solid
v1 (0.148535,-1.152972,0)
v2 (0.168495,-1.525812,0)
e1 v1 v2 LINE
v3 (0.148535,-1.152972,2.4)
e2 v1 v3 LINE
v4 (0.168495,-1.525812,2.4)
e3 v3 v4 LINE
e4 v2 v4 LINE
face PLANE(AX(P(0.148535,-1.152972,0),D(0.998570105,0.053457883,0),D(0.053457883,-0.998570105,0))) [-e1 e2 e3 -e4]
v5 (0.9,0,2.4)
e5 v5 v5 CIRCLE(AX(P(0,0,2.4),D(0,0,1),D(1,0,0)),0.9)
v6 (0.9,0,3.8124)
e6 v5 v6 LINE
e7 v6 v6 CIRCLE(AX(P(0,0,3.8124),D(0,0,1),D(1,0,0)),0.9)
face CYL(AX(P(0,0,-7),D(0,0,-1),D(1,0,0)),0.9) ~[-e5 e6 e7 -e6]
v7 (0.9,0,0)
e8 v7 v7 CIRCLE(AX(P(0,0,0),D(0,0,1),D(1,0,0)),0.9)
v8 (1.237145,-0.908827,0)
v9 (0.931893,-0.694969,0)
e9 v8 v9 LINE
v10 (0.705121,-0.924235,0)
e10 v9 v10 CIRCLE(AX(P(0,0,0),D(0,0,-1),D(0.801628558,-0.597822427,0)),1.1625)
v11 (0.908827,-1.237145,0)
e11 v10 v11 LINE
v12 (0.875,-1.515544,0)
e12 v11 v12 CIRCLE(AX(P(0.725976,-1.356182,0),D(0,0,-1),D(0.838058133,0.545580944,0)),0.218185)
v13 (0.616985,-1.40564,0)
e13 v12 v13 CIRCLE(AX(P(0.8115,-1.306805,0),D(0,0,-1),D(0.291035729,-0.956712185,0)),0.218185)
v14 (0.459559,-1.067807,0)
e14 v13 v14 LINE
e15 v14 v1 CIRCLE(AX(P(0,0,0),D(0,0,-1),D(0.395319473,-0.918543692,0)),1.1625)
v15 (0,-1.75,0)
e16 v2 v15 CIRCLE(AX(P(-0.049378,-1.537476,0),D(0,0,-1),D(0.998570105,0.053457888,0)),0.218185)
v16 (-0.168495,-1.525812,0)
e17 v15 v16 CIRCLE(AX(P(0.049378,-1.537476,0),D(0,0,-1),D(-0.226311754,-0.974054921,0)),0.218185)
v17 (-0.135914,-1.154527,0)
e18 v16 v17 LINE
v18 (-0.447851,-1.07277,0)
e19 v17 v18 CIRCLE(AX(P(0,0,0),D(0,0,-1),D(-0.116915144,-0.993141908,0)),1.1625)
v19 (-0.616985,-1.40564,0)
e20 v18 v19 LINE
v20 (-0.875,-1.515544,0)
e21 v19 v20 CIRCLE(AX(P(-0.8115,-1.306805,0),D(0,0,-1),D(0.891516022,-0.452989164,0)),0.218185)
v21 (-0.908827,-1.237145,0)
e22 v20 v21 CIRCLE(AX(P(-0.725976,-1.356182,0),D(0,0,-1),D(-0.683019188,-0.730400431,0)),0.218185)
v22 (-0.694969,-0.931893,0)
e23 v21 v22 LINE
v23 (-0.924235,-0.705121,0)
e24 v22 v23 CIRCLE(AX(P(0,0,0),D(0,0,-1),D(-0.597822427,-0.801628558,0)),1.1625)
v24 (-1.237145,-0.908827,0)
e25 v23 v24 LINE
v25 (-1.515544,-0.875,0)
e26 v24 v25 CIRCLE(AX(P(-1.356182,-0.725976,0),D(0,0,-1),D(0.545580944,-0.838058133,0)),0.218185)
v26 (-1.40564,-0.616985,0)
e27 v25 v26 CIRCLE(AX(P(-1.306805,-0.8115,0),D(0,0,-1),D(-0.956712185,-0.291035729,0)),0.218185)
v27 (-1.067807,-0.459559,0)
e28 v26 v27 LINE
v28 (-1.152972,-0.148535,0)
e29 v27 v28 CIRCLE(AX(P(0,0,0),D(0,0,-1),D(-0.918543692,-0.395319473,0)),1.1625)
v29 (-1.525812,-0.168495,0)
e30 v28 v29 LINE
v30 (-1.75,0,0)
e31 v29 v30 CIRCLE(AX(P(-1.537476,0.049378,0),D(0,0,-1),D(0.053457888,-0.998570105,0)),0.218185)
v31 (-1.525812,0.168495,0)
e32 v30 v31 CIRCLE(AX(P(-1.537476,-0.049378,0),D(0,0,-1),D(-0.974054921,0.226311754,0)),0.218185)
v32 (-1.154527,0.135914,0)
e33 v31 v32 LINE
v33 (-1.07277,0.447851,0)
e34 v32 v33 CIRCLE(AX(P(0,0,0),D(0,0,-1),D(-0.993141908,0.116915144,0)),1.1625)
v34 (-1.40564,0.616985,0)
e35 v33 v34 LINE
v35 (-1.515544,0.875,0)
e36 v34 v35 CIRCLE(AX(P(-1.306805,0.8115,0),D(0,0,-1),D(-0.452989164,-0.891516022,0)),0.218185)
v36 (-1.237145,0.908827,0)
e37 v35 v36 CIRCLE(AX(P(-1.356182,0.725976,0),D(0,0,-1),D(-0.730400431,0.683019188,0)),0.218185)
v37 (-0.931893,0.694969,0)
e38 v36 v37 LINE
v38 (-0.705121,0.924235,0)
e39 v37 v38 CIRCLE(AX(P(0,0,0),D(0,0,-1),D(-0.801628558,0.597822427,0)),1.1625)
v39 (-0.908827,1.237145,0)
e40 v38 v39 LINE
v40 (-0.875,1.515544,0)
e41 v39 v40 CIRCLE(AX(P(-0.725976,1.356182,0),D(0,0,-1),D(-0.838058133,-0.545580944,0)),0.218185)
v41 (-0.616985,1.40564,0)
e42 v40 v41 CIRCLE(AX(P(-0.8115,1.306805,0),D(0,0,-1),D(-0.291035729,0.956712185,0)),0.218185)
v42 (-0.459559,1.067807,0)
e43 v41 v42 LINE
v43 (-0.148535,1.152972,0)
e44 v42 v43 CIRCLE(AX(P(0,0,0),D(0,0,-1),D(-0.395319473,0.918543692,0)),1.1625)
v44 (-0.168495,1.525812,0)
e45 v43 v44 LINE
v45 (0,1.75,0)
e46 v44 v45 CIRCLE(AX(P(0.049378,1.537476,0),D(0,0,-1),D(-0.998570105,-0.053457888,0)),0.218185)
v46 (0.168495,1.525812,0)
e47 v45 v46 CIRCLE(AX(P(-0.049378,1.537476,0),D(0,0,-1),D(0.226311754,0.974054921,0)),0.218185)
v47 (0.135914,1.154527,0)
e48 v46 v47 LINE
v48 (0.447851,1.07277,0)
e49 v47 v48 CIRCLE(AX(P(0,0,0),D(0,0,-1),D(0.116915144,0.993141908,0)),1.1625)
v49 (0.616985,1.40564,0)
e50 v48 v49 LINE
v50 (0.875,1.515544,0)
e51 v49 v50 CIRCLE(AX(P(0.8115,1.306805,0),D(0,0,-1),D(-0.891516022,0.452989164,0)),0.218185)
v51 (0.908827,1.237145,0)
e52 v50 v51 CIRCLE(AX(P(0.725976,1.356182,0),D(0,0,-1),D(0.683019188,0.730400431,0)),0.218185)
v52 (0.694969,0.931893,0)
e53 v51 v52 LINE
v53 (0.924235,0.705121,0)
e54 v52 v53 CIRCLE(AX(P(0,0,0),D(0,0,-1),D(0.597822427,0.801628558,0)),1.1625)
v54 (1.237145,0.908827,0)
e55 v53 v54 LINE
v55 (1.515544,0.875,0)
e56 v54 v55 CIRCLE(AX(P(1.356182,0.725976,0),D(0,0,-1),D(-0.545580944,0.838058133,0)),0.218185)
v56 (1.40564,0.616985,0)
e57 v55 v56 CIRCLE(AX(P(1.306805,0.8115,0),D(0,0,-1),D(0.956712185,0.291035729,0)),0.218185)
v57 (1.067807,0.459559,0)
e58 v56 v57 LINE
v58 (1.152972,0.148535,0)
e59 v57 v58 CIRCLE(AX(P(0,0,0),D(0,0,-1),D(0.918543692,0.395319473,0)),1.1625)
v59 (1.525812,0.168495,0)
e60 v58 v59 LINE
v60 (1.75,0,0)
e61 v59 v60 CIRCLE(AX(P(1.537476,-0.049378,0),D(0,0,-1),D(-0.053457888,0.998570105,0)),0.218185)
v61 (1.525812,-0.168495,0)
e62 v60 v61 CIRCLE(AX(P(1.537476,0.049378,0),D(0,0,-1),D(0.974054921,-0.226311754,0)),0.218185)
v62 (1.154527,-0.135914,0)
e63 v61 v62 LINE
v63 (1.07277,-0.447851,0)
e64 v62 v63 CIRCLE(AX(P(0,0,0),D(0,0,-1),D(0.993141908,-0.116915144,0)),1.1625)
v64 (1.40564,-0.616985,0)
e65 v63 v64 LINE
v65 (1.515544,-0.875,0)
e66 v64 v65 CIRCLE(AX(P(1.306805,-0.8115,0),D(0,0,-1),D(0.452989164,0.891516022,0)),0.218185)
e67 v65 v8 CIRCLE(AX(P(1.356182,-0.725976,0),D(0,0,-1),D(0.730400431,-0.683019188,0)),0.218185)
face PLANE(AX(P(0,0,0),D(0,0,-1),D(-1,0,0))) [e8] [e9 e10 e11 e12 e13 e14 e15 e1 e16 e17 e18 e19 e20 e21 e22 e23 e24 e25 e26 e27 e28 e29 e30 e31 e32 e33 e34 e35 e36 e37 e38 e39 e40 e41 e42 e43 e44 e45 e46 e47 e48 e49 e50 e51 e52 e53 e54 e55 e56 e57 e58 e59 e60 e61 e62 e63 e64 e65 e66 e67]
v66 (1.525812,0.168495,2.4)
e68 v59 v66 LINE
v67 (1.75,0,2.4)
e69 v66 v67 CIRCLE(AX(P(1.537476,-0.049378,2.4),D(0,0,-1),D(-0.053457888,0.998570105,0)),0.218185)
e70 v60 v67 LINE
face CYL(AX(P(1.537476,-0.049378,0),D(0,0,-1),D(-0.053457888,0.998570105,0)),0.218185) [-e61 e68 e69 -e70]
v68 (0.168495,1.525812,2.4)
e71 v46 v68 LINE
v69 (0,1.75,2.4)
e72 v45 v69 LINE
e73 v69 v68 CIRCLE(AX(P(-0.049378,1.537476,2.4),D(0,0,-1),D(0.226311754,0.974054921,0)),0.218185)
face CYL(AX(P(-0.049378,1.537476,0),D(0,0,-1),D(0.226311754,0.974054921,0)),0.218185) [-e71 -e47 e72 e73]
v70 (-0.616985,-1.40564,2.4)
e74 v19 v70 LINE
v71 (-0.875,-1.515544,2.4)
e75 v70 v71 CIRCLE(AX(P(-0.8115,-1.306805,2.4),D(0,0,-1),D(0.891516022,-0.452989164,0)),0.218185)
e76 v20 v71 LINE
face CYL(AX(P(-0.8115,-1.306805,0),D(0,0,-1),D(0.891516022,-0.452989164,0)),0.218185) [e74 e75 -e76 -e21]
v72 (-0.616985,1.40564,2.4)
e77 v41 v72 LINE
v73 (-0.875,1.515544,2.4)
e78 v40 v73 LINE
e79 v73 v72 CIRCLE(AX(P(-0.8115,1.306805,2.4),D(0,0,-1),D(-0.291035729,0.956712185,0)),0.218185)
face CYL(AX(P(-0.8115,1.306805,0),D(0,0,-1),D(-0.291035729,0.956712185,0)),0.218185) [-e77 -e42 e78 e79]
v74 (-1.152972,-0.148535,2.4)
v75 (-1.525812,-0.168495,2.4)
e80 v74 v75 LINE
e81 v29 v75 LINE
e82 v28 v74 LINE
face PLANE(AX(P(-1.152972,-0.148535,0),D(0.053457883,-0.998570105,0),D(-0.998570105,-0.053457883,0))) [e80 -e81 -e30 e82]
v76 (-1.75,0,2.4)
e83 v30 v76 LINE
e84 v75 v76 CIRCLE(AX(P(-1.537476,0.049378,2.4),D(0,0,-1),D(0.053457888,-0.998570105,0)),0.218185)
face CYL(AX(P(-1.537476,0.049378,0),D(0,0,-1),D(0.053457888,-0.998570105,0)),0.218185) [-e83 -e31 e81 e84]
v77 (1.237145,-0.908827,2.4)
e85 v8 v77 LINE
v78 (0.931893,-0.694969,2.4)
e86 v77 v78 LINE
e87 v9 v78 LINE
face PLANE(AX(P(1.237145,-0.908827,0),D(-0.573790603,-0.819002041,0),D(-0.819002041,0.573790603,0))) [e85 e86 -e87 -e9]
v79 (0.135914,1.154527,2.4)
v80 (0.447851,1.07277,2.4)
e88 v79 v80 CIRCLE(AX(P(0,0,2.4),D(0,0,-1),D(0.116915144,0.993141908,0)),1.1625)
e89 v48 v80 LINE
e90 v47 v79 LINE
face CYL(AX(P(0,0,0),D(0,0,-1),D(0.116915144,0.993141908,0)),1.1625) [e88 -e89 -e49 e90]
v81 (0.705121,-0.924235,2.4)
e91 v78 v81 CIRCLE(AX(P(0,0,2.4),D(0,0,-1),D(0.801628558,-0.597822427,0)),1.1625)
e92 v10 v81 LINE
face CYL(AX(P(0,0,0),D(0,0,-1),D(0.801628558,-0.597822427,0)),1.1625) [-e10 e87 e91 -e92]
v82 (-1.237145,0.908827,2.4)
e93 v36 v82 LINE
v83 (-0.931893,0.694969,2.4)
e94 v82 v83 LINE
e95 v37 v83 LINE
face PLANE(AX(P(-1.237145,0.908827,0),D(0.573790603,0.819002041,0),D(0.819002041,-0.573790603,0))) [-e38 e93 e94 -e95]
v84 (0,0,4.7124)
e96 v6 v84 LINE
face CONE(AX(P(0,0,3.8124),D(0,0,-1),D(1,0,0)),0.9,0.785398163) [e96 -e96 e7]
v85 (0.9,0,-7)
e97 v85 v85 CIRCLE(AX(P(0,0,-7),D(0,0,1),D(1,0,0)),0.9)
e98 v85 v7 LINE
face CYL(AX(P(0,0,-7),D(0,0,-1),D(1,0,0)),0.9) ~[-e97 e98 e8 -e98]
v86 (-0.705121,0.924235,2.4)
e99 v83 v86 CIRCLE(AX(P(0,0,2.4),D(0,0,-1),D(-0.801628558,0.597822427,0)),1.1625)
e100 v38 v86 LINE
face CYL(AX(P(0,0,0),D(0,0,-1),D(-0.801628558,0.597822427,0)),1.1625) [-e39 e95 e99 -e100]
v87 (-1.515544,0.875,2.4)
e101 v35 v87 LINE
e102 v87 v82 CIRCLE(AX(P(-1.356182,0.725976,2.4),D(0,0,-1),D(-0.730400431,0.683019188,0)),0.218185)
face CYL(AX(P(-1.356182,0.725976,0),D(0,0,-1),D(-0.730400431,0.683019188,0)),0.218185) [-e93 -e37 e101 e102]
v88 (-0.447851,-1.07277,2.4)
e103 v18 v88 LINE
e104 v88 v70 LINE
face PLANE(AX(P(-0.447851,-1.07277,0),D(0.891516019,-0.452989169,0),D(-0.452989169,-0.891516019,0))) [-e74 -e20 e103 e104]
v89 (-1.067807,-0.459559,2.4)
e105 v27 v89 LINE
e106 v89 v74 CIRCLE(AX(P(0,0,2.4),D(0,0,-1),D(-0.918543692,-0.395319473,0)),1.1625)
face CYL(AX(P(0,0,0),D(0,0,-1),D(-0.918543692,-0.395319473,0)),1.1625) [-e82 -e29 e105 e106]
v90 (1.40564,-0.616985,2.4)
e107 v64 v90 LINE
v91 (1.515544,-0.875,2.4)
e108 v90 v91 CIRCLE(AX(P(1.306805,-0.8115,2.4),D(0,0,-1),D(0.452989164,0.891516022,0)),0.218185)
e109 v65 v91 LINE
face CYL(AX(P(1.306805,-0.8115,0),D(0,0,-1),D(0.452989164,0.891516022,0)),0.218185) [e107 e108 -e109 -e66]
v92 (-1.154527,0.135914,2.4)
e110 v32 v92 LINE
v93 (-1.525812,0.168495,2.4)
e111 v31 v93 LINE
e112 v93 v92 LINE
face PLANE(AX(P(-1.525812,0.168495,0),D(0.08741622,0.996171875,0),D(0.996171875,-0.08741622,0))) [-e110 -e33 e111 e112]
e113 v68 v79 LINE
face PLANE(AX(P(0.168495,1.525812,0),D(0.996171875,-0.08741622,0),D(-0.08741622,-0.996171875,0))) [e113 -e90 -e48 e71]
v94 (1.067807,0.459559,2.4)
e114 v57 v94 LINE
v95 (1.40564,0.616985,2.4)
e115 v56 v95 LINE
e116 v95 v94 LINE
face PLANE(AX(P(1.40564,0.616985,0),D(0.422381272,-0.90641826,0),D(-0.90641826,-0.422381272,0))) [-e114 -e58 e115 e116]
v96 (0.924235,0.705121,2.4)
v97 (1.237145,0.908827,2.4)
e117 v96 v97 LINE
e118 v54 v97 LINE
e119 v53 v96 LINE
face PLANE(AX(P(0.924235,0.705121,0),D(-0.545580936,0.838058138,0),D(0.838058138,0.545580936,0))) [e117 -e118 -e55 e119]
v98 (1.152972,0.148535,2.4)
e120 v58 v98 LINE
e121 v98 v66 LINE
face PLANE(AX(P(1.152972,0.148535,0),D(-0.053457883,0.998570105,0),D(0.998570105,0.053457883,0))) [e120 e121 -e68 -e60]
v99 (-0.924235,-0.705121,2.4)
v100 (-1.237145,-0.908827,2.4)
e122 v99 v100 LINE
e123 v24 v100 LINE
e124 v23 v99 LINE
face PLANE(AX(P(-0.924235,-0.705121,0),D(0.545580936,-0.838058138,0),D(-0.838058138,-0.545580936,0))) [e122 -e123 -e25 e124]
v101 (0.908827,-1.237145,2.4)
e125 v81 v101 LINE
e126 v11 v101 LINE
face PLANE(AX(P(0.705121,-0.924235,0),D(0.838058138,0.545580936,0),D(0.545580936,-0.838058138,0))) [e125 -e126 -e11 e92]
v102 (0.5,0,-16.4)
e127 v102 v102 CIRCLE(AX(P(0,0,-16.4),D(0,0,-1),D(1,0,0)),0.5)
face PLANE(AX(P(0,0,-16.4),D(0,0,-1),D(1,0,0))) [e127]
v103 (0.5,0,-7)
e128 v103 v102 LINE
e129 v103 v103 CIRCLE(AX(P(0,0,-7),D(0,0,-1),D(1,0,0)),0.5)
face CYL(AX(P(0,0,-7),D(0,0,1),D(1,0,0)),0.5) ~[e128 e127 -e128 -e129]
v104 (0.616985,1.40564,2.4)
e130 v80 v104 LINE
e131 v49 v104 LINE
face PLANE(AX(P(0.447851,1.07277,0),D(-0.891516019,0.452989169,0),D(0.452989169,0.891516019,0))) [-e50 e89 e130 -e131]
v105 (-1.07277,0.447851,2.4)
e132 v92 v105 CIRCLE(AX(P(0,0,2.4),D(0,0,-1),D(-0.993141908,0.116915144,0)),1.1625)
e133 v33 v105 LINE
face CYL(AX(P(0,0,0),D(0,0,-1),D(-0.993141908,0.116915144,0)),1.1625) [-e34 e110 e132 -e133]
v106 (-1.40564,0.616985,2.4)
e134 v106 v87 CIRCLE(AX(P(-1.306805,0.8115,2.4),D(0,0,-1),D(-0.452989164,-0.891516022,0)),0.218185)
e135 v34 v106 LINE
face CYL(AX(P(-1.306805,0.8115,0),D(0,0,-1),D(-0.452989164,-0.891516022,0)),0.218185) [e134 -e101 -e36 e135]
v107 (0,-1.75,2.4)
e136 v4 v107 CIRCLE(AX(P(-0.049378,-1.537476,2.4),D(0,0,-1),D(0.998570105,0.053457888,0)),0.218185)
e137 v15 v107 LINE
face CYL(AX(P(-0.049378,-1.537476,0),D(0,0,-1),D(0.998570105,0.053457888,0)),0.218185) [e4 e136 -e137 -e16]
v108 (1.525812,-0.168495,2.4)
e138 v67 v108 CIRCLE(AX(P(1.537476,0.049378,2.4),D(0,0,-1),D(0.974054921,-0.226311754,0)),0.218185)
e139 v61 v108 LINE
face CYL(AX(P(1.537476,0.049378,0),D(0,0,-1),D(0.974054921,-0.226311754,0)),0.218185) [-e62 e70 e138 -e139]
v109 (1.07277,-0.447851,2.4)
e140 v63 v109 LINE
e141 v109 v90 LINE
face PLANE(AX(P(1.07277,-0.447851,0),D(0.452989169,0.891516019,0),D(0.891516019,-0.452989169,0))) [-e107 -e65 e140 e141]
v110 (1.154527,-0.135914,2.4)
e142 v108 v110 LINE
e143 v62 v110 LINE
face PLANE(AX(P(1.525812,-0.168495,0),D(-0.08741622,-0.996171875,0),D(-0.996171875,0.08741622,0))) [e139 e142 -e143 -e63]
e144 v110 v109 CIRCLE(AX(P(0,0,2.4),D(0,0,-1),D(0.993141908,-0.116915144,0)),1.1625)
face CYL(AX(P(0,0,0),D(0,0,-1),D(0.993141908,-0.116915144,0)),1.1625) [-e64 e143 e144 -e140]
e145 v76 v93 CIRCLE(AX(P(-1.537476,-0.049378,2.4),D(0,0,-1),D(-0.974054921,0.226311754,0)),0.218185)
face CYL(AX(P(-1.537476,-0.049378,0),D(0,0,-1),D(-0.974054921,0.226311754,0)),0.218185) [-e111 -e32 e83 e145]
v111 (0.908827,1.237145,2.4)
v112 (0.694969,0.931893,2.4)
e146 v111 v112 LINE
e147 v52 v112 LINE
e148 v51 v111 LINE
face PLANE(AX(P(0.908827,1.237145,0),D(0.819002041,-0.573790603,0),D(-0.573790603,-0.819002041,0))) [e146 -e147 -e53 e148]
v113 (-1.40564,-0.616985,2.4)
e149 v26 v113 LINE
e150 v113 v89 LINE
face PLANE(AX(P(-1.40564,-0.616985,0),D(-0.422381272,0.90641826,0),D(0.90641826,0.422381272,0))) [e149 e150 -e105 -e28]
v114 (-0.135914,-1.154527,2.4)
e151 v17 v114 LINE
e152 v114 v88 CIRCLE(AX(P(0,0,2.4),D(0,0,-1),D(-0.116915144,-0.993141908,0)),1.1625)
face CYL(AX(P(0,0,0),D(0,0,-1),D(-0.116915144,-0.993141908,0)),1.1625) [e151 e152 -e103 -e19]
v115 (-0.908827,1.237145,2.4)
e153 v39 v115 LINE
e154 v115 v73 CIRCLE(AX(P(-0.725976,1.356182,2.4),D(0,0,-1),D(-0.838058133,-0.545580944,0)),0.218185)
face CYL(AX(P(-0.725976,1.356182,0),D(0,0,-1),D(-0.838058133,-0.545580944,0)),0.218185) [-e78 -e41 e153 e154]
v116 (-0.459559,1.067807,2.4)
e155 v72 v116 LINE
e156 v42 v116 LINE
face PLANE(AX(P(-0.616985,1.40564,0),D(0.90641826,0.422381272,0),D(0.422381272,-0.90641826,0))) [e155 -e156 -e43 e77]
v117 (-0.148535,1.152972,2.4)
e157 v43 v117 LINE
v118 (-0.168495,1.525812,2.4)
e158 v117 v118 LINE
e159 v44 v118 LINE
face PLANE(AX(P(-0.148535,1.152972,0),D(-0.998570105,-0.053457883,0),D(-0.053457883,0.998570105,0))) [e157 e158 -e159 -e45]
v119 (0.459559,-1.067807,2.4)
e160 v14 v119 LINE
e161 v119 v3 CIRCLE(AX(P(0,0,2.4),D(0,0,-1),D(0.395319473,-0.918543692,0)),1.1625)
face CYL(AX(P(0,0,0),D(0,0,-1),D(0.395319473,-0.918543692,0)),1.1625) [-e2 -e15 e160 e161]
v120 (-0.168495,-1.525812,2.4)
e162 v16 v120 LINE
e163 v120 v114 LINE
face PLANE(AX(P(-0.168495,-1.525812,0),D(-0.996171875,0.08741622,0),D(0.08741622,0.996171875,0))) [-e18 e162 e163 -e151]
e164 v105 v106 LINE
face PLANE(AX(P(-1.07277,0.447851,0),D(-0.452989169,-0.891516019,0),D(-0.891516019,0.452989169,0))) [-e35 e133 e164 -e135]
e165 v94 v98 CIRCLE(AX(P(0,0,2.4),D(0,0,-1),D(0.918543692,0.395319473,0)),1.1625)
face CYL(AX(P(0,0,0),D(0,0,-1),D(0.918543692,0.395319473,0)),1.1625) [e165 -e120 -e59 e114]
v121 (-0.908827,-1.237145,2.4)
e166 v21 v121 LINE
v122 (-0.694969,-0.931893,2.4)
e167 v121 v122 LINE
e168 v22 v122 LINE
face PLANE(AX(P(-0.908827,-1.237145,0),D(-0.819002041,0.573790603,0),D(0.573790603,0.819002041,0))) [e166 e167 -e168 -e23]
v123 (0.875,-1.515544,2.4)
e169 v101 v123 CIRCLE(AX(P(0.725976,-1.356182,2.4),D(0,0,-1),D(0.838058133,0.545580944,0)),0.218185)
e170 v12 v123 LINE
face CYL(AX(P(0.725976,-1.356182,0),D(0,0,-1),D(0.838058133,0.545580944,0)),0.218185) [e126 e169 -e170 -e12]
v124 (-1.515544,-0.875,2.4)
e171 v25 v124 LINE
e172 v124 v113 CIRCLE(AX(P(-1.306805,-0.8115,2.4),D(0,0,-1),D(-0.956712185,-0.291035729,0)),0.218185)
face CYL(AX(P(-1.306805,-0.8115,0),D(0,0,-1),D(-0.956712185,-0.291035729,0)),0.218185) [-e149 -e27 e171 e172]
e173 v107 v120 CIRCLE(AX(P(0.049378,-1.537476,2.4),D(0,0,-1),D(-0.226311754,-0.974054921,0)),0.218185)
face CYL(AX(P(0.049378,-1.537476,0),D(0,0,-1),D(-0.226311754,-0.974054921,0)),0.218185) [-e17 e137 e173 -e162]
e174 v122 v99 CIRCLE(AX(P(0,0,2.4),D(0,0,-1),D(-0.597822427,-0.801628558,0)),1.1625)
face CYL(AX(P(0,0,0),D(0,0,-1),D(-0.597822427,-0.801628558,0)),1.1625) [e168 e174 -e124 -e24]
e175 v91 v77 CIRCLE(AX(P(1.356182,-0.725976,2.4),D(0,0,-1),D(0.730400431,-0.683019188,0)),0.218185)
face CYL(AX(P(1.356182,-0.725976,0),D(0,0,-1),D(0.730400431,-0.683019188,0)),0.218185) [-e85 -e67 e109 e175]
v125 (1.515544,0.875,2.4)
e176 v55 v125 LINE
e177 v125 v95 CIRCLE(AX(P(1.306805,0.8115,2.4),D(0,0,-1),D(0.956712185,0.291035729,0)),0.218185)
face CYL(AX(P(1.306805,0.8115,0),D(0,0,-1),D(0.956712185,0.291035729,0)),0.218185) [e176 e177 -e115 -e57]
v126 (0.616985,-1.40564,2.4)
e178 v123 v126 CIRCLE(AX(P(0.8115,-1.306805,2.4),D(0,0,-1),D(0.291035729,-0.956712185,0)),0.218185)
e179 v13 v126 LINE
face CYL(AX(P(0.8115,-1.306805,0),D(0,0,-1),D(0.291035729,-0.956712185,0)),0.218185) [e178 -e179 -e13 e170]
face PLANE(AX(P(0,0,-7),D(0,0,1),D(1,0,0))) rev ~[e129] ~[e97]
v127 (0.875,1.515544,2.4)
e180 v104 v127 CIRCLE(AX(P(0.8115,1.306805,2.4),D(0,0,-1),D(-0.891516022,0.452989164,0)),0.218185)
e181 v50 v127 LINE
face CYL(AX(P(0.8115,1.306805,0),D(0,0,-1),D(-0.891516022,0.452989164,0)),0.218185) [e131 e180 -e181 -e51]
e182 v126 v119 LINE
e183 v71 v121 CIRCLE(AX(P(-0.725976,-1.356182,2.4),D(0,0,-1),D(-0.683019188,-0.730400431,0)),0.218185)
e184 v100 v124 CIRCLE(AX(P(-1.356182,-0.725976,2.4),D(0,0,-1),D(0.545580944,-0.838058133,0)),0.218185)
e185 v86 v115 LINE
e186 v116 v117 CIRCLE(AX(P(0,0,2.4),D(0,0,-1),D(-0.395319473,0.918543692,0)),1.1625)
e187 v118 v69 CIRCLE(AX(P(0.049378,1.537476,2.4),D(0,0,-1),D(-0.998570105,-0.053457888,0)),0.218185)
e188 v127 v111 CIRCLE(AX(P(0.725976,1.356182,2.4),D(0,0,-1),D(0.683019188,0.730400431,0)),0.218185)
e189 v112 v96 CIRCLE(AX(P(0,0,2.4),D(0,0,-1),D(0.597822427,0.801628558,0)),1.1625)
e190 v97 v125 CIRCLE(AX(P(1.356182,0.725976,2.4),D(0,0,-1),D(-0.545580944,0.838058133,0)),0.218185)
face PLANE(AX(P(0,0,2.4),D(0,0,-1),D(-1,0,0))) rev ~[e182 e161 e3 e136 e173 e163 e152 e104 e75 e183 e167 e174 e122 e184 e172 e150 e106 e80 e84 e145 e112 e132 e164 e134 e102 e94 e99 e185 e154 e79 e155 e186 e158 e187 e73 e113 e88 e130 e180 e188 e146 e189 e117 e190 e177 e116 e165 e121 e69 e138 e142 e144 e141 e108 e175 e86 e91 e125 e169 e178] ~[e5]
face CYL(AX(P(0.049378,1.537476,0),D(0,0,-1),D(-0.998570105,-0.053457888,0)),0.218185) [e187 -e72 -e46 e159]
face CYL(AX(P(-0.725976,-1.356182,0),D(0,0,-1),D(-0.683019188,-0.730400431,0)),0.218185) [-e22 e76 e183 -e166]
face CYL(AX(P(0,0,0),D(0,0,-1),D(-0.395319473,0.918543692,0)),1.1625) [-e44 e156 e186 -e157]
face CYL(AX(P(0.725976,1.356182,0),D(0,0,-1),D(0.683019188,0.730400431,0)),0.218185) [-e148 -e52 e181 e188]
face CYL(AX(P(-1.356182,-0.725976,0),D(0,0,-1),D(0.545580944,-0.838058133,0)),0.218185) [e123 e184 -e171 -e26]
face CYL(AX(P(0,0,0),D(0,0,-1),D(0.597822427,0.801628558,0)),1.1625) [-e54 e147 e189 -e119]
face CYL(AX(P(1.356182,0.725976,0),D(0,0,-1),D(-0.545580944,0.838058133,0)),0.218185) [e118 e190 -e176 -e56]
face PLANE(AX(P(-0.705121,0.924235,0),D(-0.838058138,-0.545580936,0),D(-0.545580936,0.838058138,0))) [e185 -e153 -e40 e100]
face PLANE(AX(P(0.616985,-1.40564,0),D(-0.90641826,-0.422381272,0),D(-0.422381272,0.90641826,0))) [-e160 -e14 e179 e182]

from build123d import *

# Parameters (mm, degrees)
SKETCH1_R                = 0.9
BOSS_EXTRUDE3_DEPTH      = 2.4
BOSS_EXTRUDE4_DEPTH      = 4.7124
BOSS_EXTRUDE4_DEPTH_BACK = 7
SKETCH1_4_R              = 0.9
SKETCH2_R                = 0.5
BOSS_EXTRUDE5_DEPTH      = 9.4
CHAMFER1_SIZE            = 0.9


with BuildPart() as part:
    # Sketch1 → Boss-Extrude3 (new body)
    with BuildSketch(Plane.XY):
        with BuildLine():
            Line((-0.168494904, 1.525812496), (-0.14853508, 1.15297163))
            ThreePointArc((-0.14853508, 1.15297163), (-0.307014366, 1.121226306), (-0.459558891, 1.067807041))
            Line((-0.459558891, 1.067807041), (-0.616985381, 1.405639835))
            ThreePointArc((-0.616985381, 1.405639835), (-0.725995936, 1.507536988), (-0.875, 1.515544457))
            ThreePointArc((-0.875, 1.515544457), (-0.942567361, 1.382499417), (-0.908827115, 1.237144931))
            Line((-0.908827115, 1.237144931), (-0.705120968, 0.924235181))
            ThreePointArc((-0.705120968, 0.924235181), (-0.826495394, 0.817503281), (-0.931893194, 0.694968578))
            Line((-0.931893194, 0.694968578), (-1.237144931, 0.908827115))
            ThreePointArc((-1.237144931, 0.908827115), (-1.382499417, 0.942567361), (-1.515544457, 0.875))
            ThreePointArc((-1.515544457, 0.875), (-1.507536988, 0.725995936), (-1.405639835, 0.616985381))
            Line((-1.405639835, 0.616985381), (-1.072770262, 0.447850662))
            ThreePointArc((-1.072770262, 0.447850662), (-1.124517647, 0.294730912), (-1.154527469, 0.135913846))
            Line((-1.154527469, 0.135913846), (-1.525812496, 0.168494904))
            ThreePointArc((-1.525812496, 0.168494904), (-1.668563296, 0.125037571), (-1.75, 0))
            ThreePointArc((-1.75, 0), (-1.668563296, -0.125037571), (-1.525812496, -0.168494904))
            Line((-1.525812496, -0.168494904), (-1.15297163, -0.14853508))
            ThreePointArc((-1.15297163, -0.14853508), (-1.121226306, -0.307014366), (-1.067807041, -0.459558891))
            Line((-1.067807041, -0.459558891), (-1.405639835, -0.616985381))
            ThreePointArc((-1.405639835, -0.616985381), (-1.507536988, -0.725995936), (-1.515544457, -0.875))
            ThreePointArc((-1.515544457, -0.875), (-1.382499417, -0.942567361), (-1.237144931, -0.908827115))
            Line((-1.237144931, -0.908827115), (-0.924235181, -0.705120968))
            ThreePointArc((-0.924235181, -0.705120968), (-0.817503281, -0.826495394), (-0.694968578, -0.931893194))
            Line((-0.694968578, -0.931893194), (-0.908827115, -1.237144931))
            ThreePointArc((-0.908827115, -1.237144931), (-0.942567361, -1.382499417), (-0.875, -1.515544457))
            ThreePointArc((-0.875, -1.515544457), (-0.725995936, -1.507536988), (-0.616985381, -1.405639835))
            Line((-0.616985381, -1.405639835), (-0.447850662, -1.072770262))
            ThreePointArc((-0.447850662, -1.072770262), (-0.294730912, -1.124517647), (-0.135913846, -1.154527469))
            Line((-0.135913846, -1.154527469), (-0.168494904, -1.525812496))
            ThreePointArc((-0.168494904, -1.525812496), (-0.125037571, -1.668563296), (0, -1.75))
            ThreePointArc((0, -1.75), (0.125037571, -1.668563296), (0.168494904, -1.525812496))
            Line((0.168494904, -1.525812496), (0.14853508, -1.15297163))
            ThreePointArc((0.14853508, -1.15297163), (0.307014366, -1.121226306), (0.459558891, -1.067807041))
            Line((0.459558891, -1.067807041), (0.616985381, -1.405639835))
            ThreePointArc((0.616985381, -1.405639835), (0.725995936, -1.507536988), (0.875, -1.515544457))
            ThreePointArc((0.875, -1.515544457), (0.942567361, -1.382499417), (0.908827115, -1.237144931))
            Line((0.908827115, -1.237144931), (0.705120968, -0.924235181))
            ThreePointArc((0.705120968, -0.924235181), (0.826495394, -0.817503281), (0.931893194, -0.694968578))
            Line((0.931893194, -0.694968578), (1.237144931, -0.908827115))
            ThreePointArc((1.237144931, -0.908827115), (1.382499417, -0.942567361), (1.515544457, -0.875))
            ThreePointArc((1.515544457, -0.875), (1.507536988, -0.725995936), (1.405639835, -0.616985381))
            Line((1.405639835, -0.616985381), (1.072770262, -0.447850662))
            ThreePointArc((1.072770262, -0.447850662), (1.124517647, -0.294730912), (1.154527469, -0.135913846))
            Line((1.154527469, -0.135913846), (1.525812496, -0.168494904))
            ThreePointArc((1.525812496, -0.168494904), (1.668563296, -0.125037571), (1.75, 0))
            ThreePointArc((1.75, 0), (1.668563296, 0.125037571), (1.525812496, 0.168494904))
            Line((1.525812496, 0.168494904), (1.15297163, 0.14853508))
            ThreePointArc((1.15297163, 0.14853508), (1.121226306, 0.307014366), (1.067807041, 0.459558891))
            Line((1.067807041, 0.459558891), (1.405639835, 0.616985381))
            ThreePointArc((1.405639835, 0.616985381), (1.507536988, 0.725995936), (1.515544457, 0.875))
            ThreePointArc((1.515544457, 0.875), (1.382499417, 0.942567361), (1.237144931, 0.908827115))
            Line((1.237144931, 0.908827115), (0.924235181, 0.705120968))
            ThreePointArc((0.924235181, 0.705120968), (0.817503281, 0.826495394), (0.694968578, 0.931893194))
            Line((0.694968578, 0.931893194), (0.908827115, 1.237144931))
            ThreePointArc((0.908827115, 1.237144931), (0.942567361, 1.382499417), (0.875, 1.515544457))
            ThreePointArc((0.875, 1.515544457), (0.725995936, 1.507536988), (0.616985381, 1.405639835))
            Line((0.616985381, 1.405639835), (0.447850662, 1.072770262))
            ThreePointArc((0.447850662, 1.072770262), (0.294730912, 1.124517647), (0.135913846, 1.154527469))
            Line((0.135913846, 1.154527469), (0.168494904, 1.525812496))
            ThreePointArc((0.168494904, 1.525812496), (0.125037571, 1.668563296), (0, 1.75))
            ThreePointArc((0, 1.75), (-0.125037571, 1.668563296), (-0.168494904, 1.525812496))
        make_face()
        Circle(SKETCH1_R, mode=Mode.SUBTRACT)
    extrude(amount=BOSS_EXTRUDE3_DEPTH)

    # Sketch1<4> → Boss-Extrude4 (add, two sides: drawn at the far end of the back side and taken through both)
    with BuildSketch(Plane.XY.offset(-BOSS_EXTRUDE4_DEPTH_BACK)):
        Circle(SKETCH1_4_R)
    extrude(amount=BOSS_EXTRUDE4_DEPTH + BOSS_EXTRUDE4_DEPTH_BACK)

    # Sketch2 → Boss-Extrude5 (add)
    with BuildSketch(Plane(origin=(0, 0, -7), x_dir=(-1, 0, 0), z_dir=(0, 0, -1))):
        Circle(SKETCH2_R)
    extrude(amount=BOSS_EXTRUDE5_DEPTH)

    # Chamfer1
    chamfer1_edges = [part.edges().sort_by_distance(p)[0] for p in [
        (-0.9, 0, 4.7124),
    ]]
    chamfer(chamfer1_edges, length=CHAMFER1_SIZE)


solid = part.part
